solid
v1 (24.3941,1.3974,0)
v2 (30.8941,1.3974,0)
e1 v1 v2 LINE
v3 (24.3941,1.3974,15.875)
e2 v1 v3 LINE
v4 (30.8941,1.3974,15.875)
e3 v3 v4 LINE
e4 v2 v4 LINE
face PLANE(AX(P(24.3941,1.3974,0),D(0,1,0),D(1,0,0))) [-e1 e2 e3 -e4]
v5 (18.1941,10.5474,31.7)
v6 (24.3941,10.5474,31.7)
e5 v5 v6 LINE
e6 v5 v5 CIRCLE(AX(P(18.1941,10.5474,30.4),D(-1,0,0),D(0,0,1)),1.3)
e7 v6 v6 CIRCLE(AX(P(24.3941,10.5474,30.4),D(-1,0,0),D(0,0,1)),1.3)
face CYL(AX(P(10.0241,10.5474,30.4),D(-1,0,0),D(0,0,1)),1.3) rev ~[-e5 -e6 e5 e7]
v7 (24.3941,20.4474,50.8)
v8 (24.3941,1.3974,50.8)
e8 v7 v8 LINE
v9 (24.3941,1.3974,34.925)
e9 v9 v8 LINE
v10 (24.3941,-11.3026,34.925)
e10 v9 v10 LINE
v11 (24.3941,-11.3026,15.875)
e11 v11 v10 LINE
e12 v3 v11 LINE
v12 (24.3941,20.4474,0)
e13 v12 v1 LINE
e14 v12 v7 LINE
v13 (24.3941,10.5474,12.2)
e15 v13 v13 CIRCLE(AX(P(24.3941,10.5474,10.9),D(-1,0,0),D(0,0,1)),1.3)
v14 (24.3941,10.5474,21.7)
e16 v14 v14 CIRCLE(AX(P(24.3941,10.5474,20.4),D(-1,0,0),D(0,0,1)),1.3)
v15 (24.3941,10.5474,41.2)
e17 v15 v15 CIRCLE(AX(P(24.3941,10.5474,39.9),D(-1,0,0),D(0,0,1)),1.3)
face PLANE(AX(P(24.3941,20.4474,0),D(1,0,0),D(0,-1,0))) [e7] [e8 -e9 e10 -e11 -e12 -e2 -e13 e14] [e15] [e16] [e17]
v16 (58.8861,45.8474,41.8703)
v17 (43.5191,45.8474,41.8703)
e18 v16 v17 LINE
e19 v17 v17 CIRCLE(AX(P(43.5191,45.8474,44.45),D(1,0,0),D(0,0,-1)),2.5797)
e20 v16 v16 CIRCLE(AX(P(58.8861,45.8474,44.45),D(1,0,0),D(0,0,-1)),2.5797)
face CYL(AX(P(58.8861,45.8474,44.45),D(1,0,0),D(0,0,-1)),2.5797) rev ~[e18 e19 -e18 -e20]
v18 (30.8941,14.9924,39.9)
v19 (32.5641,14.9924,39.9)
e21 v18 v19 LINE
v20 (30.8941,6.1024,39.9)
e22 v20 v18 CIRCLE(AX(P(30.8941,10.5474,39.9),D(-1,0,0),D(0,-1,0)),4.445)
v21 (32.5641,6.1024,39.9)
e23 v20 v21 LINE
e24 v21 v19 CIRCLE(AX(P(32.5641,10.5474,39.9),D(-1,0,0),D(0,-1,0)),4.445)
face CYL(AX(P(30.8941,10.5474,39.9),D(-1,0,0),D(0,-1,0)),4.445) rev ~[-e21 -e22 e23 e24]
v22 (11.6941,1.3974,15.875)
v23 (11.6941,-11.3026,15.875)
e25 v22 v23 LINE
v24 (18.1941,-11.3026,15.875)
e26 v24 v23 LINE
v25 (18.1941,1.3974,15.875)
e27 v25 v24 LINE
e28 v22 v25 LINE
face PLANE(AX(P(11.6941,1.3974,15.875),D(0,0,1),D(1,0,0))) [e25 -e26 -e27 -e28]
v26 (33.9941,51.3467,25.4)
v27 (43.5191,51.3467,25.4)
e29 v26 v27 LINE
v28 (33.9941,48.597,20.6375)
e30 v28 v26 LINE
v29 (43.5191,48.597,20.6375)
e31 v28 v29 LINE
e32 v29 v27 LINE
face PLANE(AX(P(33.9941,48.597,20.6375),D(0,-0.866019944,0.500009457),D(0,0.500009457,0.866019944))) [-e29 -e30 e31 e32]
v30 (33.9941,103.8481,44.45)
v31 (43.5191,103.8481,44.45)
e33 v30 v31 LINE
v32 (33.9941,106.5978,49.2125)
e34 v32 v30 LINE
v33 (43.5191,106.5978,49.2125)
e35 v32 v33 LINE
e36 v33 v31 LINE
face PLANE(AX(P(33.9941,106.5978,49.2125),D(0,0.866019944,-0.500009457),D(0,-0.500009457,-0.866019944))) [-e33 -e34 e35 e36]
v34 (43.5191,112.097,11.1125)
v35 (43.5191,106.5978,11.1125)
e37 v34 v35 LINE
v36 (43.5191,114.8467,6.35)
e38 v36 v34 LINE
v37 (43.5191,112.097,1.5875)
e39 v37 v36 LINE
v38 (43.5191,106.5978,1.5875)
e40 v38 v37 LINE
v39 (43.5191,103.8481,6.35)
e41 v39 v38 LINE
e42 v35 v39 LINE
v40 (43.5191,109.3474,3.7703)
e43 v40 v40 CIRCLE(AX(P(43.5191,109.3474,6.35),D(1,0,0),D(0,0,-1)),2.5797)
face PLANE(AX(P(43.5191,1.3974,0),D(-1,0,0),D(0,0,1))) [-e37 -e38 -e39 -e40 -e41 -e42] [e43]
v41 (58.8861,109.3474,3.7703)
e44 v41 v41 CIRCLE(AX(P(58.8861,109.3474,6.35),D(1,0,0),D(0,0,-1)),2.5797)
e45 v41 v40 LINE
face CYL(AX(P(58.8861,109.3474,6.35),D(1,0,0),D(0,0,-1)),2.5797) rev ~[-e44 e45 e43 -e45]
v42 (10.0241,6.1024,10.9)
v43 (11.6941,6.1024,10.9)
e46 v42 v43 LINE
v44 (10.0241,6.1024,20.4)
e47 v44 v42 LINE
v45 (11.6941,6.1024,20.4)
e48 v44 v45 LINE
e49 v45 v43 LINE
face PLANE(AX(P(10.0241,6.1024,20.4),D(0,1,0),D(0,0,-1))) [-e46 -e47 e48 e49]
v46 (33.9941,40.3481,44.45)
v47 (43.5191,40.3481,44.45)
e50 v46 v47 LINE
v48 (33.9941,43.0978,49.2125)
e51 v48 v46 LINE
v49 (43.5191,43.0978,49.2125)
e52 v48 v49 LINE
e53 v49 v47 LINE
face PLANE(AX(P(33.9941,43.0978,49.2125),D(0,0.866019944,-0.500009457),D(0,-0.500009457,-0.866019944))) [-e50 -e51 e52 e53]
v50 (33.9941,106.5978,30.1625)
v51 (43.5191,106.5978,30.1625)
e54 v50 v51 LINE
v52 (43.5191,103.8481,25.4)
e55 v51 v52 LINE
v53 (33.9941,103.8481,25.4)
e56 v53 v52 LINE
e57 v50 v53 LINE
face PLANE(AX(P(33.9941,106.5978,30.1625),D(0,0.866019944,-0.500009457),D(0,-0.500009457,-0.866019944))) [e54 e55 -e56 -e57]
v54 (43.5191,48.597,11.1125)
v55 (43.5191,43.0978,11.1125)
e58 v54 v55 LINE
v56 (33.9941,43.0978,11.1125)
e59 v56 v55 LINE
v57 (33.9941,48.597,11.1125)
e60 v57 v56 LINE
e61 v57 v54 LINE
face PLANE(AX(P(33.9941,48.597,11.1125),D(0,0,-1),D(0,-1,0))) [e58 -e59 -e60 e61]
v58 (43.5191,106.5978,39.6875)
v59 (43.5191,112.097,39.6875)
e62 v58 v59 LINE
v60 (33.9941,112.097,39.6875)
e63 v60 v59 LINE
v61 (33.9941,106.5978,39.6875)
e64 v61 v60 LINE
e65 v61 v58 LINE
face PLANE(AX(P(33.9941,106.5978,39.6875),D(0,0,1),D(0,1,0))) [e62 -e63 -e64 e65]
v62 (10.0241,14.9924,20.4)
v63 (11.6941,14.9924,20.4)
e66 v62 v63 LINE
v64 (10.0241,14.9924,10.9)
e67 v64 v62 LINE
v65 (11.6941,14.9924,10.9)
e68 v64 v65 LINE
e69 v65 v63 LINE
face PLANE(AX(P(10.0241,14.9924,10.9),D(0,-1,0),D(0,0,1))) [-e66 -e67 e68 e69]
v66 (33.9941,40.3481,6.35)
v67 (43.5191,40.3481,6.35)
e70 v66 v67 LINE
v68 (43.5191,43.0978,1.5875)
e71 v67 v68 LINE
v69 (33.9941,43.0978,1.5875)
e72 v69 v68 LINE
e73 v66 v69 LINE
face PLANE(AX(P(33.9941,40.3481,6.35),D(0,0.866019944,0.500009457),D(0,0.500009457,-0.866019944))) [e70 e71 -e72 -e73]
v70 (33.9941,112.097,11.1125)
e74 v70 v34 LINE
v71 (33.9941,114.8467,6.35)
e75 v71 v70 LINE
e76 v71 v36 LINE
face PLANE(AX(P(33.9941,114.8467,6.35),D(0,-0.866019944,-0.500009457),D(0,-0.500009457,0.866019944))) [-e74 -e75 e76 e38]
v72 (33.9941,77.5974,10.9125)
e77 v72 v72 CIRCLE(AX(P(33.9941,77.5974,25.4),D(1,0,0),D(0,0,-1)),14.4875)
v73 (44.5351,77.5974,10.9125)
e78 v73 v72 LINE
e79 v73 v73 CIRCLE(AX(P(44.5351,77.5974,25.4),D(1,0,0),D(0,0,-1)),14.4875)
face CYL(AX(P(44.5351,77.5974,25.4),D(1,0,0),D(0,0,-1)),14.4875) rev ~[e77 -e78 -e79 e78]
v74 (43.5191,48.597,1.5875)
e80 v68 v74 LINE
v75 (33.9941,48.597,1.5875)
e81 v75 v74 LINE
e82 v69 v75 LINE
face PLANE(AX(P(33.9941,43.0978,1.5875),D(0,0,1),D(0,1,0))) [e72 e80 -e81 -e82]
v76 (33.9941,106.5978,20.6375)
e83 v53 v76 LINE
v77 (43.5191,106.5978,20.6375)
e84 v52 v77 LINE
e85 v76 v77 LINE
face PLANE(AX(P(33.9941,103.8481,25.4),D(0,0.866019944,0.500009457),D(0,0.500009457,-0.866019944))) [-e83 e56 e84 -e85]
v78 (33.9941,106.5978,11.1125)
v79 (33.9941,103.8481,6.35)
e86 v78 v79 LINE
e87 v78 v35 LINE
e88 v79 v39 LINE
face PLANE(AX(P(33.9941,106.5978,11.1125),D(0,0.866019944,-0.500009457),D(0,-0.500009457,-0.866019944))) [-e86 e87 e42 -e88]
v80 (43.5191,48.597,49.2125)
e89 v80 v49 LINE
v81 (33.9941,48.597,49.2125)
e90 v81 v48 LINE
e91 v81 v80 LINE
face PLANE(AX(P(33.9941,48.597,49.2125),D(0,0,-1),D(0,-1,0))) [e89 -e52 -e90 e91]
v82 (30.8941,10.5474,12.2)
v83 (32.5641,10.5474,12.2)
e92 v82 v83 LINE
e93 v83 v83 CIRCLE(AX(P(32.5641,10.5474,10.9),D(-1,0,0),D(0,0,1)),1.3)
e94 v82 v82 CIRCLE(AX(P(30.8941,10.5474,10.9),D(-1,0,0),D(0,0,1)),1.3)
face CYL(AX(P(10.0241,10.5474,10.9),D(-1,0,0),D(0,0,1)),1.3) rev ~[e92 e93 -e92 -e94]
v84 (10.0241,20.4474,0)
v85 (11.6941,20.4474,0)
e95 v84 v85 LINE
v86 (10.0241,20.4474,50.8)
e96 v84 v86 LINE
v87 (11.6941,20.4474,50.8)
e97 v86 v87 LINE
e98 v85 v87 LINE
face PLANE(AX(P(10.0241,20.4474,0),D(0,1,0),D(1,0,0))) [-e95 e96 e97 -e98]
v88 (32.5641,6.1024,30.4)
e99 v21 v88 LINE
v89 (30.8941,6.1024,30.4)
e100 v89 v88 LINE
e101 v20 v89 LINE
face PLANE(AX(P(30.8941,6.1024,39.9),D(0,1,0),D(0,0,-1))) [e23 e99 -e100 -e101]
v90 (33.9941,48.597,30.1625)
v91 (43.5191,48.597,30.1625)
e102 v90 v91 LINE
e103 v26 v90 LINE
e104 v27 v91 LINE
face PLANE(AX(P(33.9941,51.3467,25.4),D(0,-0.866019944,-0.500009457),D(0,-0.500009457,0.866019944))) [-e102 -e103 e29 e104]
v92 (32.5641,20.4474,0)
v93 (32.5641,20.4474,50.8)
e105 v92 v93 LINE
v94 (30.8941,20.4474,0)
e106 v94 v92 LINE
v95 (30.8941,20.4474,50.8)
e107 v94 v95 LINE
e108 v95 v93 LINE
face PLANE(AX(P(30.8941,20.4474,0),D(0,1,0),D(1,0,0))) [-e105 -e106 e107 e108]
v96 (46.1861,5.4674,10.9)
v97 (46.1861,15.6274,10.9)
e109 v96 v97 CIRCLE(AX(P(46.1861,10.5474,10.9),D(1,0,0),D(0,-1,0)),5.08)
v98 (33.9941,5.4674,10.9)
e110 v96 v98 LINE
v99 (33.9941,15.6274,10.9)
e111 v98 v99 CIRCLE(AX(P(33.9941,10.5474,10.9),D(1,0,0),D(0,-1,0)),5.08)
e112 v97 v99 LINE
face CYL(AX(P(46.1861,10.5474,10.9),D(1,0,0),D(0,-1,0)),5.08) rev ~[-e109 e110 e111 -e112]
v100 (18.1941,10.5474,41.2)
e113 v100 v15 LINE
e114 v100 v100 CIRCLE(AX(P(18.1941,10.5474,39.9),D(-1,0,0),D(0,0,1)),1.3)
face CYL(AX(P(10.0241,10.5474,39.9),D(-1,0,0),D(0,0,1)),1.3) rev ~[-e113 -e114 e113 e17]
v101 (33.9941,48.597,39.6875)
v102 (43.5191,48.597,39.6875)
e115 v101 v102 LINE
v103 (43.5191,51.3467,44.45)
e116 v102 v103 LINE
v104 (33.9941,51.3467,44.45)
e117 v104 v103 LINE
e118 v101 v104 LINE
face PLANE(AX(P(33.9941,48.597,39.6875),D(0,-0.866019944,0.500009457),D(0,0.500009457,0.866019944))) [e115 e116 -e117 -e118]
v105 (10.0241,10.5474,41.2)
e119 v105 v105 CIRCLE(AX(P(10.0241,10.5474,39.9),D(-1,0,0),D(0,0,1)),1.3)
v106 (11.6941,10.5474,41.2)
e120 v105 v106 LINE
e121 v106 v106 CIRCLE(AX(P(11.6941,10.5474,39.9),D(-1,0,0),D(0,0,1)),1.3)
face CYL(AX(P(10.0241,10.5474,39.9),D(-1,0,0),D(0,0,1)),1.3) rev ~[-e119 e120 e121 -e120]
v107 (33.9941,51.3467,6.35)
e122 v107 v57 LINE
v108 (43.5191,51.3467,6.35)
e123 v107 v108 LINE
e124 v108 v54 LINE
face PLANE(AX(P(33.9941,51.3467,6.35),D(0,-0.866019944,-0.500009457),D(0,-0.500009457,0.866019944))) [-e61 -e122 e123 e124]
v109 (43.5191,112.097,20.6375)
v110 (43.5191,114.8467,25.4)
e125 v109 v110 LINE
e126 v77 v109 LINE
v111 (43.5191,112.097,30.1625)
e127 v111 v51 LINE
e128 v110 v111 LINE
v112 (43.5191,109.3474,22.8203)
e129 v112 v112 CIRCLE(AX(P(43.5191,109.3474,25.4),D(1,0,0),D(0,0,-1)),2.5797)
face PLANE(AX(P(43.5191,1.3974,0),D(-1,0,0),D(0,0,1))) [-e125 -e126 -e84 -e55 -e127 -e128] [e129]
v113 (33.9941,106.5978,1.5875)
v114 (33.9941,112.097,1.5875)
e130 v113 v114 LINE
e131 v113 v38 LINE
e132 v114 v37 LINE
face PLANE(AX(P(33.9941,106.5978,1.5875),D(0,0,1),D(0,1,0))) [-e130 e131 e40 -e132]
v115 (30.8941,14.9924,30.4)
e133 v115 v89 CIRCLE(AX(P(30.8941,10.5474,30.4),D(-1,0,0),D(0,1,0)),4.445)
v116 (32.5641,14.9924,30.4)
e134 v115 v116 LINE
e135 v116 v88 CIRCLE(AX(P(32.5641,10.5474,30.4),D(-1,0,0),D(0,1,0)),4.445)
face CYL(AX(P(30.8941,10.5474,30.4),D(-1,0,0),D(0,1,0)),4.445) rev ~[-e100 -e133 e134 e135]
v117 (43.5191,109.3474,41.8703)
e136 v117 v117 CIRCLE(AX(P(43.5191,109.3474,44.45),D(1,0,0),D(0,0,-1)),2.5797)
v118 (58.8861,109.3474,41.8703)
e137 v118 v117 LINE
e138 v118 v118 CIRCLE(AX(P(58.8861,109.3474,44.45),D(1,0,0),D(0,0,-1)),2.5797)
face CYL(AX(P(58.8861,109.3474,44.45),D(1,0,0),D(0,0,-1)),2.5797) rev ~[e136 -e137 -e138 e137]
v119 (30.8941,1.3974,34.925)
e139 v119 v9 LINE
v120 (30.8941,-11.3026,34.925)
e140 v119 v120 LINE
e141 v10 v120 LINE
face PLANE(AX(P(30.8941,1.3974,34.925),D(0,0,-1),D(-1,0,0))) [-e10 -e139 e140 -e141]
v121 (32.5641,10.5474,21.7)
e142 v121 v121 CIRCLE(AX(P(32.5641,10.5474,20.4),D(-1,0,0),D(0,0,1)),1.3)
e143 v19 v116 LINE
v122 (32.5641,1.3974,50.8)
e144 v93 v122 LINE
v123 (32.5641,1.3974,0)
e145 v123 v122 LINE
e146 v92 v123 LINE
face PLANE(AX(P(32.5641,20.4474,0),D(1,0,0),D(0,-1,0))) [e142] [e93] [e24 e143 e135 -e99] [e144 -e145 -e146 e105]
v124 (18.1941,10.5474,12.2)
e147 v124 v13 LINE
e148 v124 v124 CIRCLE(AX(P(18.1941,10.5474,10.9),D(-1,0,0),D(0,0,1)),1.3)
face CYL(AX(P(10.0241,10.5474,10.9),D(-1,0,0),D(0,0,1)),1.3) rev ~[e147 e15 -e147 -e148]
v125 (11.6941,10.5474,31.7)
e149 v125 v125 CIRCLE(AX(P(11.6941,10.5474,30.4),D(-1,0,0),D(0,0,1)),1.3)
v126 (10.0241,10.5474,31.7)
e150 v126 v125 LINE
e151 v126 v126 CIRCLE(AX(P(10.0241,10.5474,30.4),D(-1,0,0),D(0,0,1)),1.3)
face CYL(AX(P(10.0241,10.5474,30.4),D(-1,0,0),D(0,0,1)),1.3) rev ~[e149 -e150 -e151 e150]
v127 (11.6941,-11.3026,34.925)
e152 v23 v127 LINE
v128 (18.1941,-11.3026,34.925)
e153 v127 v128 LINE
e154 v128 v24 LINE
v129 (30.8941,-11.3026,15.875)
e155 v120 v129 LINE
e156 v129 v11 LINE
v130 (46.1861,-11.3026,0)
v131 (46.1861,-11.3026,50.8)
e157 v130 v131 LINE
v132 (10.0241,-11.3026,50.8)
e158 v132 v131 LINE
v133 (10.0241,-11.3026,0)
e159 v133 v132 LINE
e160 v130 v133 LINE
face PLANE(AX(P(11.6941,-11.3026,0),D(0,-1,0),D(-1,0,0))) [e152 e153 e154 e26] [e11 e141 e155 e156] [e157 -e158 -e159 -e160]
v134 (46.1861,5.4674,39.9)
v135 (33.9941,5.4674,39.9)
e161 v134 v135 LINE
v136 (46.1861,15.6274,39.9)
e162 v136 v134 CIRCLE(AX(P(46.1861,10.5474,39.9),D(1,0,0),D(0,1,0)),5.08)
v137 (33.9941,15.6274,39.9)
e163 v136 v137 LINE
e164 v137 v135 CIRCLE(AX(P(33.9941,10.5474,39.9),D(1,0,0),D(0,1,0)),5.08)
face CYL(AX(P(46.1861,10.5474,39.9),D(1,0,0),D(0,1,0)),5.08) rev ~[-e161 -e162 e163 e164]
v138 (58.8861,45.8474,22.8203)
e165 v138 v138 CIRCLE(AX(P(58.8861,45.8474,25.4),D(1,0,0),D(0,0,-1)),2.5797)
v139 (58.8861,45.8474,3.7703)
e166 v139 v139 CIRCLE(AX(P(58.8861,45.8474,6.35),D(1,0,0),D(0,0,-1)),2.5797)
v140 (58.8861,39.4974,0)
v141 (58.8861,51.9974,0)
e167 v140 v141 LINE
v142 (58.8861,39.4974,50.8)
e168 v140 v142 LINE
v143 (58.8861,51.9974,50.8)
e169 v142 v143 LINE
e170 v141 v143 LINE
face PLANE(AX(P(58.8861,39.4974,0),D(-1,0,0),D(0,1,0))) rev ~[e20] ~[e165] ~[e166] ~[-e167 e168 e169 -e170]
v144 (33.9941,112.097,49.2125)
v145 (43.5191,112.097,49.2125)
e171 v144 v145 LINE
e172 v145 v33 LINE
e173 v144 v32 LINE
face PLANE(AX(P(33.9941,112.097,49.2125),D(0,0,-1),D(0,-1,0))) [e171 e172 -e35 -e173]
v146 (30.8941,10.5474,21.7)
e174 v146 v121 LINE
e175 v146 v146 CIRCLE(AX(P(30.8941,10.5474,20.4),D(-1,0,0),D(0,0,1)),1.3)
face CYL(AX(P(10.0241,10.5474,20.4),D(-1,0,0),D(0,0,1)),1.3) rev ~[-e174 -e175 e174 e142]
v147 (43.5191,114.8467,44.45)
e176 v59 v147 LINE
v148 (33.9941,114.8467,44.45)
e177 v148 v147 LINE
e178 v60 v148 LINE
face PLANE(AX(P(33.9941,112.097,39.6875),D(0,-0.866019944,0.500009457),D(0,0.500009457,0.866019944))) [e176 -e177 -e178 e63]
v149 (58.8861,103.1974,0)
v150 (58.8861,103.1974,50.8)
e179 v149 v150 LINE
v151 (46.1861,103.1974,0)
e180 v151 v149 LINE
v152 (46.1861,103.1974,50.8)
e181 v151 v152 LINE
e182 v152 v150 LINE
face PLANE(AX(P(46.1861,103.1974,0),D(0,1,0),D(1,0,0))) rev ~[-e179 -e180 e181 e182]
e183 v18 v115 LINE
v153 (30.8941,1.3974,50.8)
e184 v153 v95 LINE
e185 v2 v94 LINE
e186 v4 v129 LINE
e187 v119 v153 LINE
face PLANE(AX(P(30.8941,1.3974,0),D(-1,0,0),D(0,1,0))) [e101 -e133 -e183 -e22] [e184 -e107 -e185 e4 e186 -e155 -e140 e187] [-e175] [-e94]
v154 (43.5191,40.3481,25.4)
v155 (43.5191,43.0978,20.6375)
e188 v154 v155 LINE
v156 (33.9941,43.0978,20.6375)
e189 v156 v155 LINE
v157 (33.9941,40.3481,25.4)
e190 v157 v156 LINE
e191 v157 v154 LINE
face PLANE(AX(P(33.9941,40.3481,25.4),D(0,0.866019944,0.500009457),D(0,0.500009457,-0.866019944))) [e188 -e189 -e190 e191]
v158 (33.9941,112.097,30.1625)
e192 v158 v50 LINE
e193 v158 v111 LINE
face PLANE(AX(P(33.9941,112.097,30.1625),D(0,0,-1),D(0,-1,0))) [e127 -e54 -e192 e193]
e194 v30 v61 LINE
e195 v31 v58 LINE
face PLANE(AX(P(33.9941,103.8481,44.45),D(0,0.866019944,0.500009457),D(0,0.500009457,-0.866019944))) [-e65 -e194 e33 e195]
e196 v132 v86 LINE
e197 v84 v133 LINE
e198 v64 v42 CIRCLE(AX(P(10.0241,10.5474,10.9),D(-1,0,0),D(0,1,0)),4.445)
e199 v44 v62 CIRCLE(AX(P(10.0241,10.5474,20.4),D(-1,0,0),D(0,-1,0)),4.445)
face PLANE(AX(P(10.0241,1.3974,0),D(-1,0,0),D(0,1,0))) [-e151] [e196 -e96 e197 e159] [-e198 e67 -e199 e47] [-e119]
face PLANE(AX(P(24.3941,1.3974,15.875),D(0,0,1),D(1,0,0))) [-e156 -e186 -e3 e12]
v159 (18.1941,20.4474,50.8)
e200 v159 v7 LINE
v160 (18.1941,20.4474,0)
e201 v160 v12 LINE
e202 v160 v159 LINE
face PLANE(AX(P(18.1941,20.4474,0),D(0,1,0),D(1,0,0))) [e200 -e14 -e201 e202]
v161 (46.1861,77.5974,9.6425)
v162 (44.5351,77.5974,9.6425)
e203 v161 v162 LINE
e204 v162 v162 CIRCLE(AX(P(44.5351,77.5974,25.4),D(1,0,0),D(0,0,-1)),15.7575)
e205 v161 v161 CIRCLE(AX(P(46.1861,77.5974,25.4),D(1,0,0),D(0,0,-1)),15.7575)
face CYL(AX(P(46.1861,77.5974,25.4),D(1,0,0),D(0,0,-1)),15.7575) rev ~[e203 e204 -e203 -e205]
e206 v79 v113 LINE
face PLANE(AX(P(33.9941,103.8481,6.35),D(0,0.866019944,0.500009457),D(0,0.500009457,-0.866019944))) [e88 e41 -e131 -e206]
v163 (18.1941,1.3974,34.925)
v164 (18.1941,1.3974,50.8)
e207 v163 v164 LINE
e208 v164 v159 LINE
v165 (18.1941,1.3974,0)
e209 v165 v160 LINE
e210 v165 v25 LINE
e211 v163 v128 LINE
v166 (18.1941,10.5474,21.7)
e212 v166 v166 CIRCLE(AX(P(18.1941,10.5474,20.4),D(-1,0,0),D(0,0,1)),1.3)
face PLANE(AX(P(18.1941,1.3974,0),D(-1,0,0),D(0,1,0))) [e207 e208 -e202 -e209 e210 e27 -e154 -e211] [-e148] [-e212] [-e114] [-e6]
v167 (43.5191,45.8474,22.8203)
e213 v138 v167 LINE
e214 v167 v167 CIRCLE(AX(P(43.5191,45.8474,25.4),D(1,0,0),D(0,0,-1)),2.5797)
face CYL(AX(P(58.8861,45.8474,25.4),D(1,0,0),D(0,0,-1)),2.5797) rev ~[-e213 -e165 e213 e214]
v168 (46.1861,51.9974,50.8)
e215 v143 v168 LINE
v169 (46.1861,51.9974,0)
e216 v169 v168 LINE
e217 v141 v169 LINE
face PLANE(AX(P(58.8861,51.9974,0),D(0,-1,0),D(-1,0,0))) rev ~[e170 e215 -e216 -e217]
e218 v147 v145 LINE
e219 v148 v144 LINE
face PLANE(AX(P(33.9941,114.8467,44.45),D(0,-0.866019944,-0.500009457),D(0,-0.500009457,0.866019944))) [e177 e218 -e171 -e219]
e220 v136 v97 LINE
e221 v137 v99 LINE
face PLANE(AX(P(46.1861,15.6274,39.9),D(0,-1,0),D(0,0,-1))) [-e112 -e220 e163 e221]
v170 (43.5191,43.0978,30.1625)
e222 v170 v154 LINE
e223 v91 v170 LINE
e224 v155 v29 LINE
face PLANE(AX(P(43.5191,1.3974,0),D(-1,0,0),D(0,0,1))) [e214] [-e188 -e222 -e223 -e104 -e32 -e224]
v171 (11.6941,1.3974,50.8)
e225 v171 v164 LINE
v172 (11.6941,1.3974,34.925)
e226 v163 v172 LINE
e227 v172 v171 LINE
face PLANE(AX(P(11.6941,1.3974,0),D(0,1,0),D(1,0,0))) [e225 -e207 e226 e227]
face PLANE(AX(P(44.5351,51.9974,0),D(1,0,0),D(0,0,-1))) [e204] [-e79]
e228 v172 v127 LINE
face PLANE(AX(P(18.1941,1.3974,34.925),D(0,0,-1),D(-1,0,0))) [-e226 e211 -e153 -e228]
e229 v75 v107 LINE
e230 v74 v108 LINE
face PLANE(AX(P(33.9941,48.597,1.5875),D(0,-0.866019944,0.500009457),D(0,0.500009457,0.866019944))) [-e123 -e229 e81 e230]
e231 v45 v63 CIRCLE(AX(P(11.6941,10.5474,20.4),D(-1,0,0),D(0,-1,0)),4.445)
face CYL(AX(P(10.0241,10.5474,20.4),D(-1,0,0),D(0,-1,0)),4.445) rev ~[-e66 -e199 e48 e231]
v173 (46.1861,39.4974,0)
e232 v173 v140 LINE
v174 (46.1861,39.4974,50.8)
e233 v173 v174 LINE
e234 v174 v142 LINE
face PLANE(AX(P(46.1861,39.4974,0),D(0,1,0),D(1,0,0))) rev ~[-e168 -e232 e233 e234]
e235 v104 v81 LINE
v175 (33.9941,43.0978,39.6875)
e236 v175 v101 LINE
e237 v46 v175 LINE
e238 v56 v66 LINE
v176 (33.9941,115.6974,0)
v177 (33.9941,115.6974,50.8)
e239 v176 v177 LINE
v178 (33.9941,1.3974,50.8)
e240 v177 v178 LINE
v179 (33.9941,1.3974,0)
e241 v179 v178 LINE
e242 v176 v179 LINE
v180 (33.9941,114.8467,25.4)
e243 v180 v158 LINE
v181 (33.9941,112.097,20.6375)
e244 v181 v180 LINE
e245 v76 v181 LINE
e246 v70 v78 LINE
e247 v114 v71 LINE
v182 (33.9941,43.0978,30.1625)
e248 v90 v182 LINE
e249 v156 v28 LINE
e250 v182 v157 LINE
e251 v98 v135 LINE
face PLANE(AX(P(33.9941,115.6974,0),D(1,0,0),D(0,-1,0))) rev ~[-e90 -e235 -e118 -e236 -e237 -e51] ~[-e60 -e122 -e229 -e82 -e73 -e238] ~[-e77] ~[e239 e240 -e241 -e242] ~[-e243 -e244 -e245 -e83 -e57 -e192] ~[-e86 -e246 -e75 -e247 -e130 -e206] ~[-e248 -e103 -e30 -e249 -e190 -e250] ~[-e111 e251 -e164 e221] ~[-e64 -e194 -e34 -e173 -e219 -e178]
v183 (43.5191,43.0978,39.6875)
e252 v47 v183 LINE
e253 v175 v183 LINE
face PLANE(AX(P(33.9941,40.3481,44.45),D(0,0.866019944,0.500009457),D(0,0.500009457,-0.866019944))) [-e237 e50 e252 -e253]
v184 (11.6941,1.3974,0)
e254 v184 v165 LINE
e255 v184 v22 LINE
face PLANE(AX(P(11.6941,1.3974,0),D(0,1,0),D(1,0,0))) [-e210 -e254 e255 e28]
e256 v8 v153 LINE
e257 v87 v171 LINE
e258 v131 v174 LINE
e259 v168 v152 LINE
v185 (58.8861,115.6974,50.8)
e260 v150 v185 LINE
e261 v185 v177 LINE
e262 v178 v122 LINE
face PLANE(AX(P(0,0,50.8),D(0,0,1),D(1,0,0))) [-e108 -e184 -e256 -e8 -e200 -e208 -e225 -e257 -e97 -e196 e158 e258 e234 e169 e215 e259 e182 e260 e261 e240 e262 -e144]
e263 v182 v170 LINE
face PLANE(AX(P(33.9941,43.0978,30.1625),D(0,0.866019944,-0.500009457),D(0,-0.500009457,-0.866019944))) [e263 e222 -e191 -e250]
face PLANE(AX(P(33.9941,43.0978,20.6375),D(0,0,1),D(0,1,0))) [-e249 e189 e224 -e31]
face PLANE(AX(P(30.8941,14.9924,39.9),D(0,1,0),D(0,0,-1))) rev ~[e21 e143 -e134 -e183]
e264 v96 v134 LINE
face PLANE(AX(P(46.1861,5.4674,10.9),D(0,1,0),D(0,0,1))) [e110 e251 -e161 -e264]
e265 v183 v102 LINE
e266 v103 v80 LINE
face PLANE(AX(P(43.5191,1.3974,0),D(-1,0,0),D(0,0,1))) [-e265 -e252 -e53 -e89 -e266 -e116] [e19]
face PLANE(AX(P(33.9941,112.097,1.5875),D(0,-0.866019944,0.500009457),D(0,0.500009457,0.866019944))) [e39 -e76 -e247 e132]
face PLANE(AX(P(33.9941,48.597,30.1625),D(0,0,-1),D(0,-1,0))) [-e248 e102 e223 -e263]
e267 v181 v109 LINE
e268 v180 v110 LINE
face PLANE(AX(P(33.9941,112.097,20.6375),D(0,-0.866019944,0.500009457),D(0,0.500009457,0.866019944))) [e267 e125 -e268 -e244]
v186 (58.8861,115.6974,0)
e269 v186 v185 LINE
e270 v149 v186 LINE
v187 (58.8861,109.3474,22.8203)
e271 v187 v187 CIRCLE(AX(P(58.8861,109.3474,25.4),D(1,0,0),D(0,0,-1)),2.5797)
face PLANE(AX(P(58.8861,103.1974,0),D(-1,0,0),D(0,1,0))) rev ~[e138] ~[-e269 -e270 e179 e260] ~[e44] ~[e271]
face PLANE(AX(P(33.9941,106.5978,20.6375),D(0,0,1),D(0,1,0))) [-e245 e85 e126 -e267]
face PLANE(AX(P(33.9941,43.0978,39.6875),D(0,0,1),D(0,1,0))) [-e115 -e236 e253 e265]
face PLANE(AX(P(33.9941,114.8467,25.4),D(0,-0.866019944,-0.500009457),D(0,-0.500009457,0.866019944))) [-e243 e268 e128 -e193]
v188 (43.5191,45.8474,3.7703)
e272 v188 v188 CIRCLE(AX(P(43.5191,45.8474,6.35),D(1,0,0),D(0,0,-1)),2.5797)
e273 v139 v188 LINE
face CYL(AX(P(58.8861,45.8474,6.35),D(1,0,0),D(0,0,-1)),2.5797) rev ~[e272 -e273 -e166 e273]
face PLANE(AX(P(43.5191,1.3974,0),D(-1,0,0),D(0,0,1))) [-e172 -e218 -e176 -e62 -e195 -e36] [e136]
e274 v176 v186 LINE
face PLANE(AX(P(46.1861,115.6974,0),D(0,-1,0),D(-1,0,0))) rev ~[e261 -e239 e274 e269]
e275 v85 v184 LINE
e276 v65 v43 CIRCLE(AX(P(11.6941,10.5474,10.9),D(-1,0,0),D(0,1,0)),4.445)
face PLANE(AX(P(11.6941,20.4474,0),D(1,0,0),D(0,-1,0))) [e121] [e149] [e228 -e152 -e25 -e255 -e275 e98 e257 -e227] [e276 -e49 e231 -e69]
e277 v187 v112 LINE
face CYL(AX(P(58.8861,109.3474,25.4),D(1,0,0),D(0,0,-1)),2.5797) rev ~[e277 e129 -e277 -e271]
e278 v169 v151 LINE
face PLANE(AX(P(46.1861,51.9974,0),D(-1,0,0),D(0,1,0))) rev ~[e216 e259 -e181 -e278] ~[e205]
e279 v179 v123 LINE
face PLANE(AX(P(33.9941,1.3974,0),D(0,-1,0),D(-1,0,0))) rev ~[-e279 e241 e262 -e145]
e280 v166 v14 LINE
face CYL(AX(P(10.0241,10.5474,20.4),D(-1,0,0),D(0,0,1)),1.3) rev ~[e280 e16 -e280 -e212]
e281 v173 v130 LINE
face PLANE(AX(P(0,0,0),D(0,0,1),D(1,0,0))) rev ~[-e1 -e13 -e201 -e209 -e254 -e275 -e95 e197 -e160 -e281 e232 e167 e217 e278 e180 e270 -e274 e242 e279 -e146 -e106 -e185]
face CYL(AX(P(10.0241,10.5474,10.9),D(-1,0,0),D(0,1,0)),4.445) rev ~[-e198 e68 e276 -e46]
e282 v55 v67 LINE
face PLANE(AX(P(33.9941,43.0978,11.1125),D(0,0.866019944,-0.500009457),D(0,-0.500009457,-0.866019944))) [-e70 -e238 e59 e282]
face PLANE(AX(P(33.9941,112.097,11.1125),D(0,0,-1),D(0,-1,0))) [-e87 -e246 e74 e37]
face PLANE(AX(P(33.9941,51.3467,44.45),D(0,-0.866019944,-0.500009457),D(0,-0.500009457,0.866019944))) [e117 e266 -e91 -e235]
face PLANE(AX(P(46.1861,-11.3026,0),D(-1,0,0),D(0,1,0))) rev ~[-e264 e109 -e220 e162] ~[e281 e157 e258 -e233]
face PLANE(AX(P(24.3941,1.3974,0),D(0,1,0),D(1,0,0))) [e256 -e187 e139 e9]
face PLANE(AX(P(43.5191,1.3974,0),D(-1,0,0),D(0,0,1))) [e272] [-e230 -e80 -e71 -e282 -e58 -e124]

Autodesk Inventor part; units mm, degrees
ref_plane "YZ Plane" through (0, 0, 0) normal (1, 0, 0) x (0, 1, 0)
ref_plane "XZ Plane" through (0, 0, 0) normal (0, 1, 0) x (-1, 0, 0)
ref_plane "XY Plane" through (0, 0, 0) normal (0, 0, 1) x (1, 0, 0)
sketch "Sketch1" plane through (0, 0, 0) normal (0, 0, 1) x (1, 0, 0)
  line L0 (10.0241, 20.4474) -> (11.6941, 20.4474)
  line L1 (11.6941, 20.4474) -> (11.6941, -11.3026)
  line L2 (11.6941, -11.3026) -> (10.0241, -11.3026)
  line L3 (10.0241, -11.3026) -> (10.0241, 20.4474)
  line L4 (11.6941, -4.9526) -> (18.1941, -4.9526)
  line L5 (18.1941, -4.9526) -> (18.1941, -11.3026)
  line L6 (18.1941, -11.3026) -> (11.6941, -11.3026)
  line L7 (11.6941, -11.3026) -> (11.6941, -4.9526)
  line L8 (18.1941, 20.4474) -> (24.3941, 20.4474)
  line L9 (24.3941, 20.4474) -> (24.3941, -11.3026)
  line L10 (24.3941, -11.3026) -> (18.1941, -11.3026)
  line L11 (18.1941, -11.3026) -> (18.1941, 20.4474)
  line L12 (24.3941, -4.9526) -> (30.8941, -4.9526)
  line L13 (30.8941, -4.9526) -> (30.8941, -11.3026)
  line L14 (30.8941, -11.3026) -> (24.3941, -11.3026)
  line L15 (24.3941, -11.3026) -> (24.3941, -4.9526)
  line L16 (30.8941, 20.4474) -> (32.5641, 20.4474)
  line L17 (32.5641, 20.4474) -> (32.5641, -11.3026)
  line L18 (32.5641, -11.3026) -> (30.8941, -11.3026)
  line L19 (30.8941, -11.3026) -> (30.8941, 20.4474)
  line L20 (14.9441, -4.9526) -> (14.9441, -6.8027)
  line L21 (27.6441, -4.9526) -> (27.6441, -11.0357)
  line L22 (10.0241, 1.3974) -> (32.5641, 1.3974)
  line L23 (32.5641, 1.3974) -> (32.5641, -11.3026)
  line L24 (32.5641, -11.3026) -> (10.0241, -11.3026)
  line L25 (10.0241, -11.3026) -> (10.0241, 1.3974)
  line L26 (32.5641, -11.3026) -> (46.1861, -11.3026)
  line L27 (46.1861, -11.3026) -> (46.1861, 1.3974)
  line L28 (46.1861, 1.3974) -> (32.5641, 1.3974)
  line L29 (32.5641, 1.3974) -> (32.5641, -11.3026)
  line L30 (33.9941, 1.3974) -> (46.1861, 1.3974)
  line L31 (46.1861, 1.3974) -> (46.1861, 115.6974)
  line L32 (46.1861, 115.6974) -> (33.9941, 115.6974)
  line L33 (33.9941, 115.6974) -> (33.9941, 1.3974)
  line L34 (46.1861, 39.4974) -> (58.8861, 39.4974)
  line L35 (58.8861, 39.4974) -> (58.8861, 51.9974)
  line L36 (58.8861, 51.9974) -> (46.1861, 51.9974)
  line L37 (46.1861, 51.9974) -> (46.1861, 39.4974)
  line L38 (46.1861, 103.1974) -> (58.8861, 103.1974)
  line L39 (58.8861, 103.1974) -> (58.8861, 115.6974)
  line L40 (58.8861, 115.6974) -> (46.1861, 115.6974)
  line L41 (46.1861, 115.6974) -> (46.1861, 103.1974)
  line L42 (-51.3447, 77.5974) -> (150.8271, 77.5974) construction
  point P0 (0, 0)
  dimension "d0" = 6.5
  dimension "d1" = 6.5
  dimension "d4" = 12.7
  dimension "d5" = 1.67
  dimension "d6" = 25.4
  dimension "d51" = 12.5
  dimension "d52" = 12.5
  dimension "d53" = 51.2
  dimension "d54" = 57.15
  dimension "d55" = 25.6
  dimension "d57" = 12.7
  dimension "d58" = 12.192
  dimension "d59" = 18.542
  dimension "d60" = 12.7
  dimension "d86" = 76.2
  dimension "d114" = 76.2
extrude "Extrusion1" add sketch "Sketch1" along normal blind 50.8
sketch "Sketch9" plane through (46.1861, 51.9974, 0) normal (1, 0, 0) x (0, 0, -1)
  circle A0 centre (-25.4, 25.6) radius 15.7575
  line L0 (0, 0) -> (0, 51.2) projected
  line L1 (0, 51.2) -> (-50.8, 51.2) projected
  point P0 (0, -51.9974)
  dimension "d61" = 31.515
  dimension "d62" = 25.4
  dimension "d63" = 25.6
extrude "Extrusion8" cut sketch "Sketch9" against normal blind 1.651
sketch "Sketch10" plane through (44.5351, 77.5974, 25.4) normal (1, 0, 0) x (0, 0, -1)
  circle A0 centre (0, 0) radius 15.7575 projected
  circle A1 centre (0, 0) radius 14.4875
  point P0 (25.4, -77.5974)
  dimension "d66" = 28.975
extrude "Extrusion9" cut sketch "Sketch10" against normal through all contours A1
sketch "Sketch11" plane through (10.0241, -11.3026, 0) normal (-1, 0, 0) x (0, 0, 1)
  circle A0 centre (25.4, 36.35) radius 2.25
  line L0 (0, 127) -> (0, 12.7) projected
  circle A1 centre (10.9, 21.85) radius 1.3
  circle A2 centre (20.4, 21.85) radius 1.3
  circle A3 centre (30.4, 21.85) radius 1.3
  circle A4 centre (39.9, 21.85) radius 1.3
  circle A5 centre (25.4, 88.9) radius 14.4875 projected
  line L1 (36.7449, 38.6) -> (7.7398, 38.6) construction
  point P0 (0, 11.3026)
  dimension "d69" = 4.5
  dimension "d70" = 25.4
  dimension "d71" = 9.5
  dimension "d72" = 9.5
  dimension "d73" = 2.6
  dimension "d74" = 14.5
  dimension "d75" = 50.3
  dimension "d76" = 14.5
  dimension "d77" = 14.5
extrude "Extrusion10" cut sketch "Sketch11" against normal through all contours A1 | A2 | A3 | A4
sketch "Sketch14" plane through (30.8941, 1.3974, 0) normal (-1, 0, 0) x (0, 0, 1)
  circle A0 centre (39.9, 9.15) radius 1.3 projected
  arc A1 (39.9, 4.705) -> (39.9, 13.595) centre (39.9, 9.15) ccw
  circle A2 centre (30.4, 9.15) radius 1.3 projected
  arc A3 (30.4, 13.595) -> (30.4, 4.705) centre (30.4, 9.15) ccw
  line L0 (39.9, 4.705) -> (30.4, 4.705)
  line L1 (39.9, 13.595) -> (30.4, 13.595)
  arc A4 (39.9, 13.595) -> (39.9, 4.705) centre (39.9, 9.15) ccw
  arc A5 (30.4, 4.705) -> (30.4, 13.595) centre (30.4, 9.15) ccw
  point P0 (0, -1.3974)
  dimension "d87" = 8.89
extrude "Extrusion13" cut sketch "Sketch14" against normal up to surface (1.67 mm away)
sketch "Sketch15" plane through (10.0241, -11.3026, 0) normal (-1, 0, 0) x (0, 0, 1)
  circle A0 centre (20.4, 21.85) radius 1.3 projected
  arc A1 (20.4, 17.405) -> (20.4, 26.295) centre (20.4, 21.85) ccw
  circle A2 centre (10.9, 21.85) radius 1.3 projected
  arc A3 (10.9, 26.295) -> (10.9, 17.405) centre (10.9, 21.85) ccw
  line L0 (20.4, 17.405) -> (10.9, 17.405)
  line L1 (10.9, 26.295) -> (20.4, 26.295)
  arc A4 (20.4, 26.295) -> (20.4, 17.405) centre (20.4, 21.85) ccw
  arc A5 (10.9, 17.405) -> (10.9, 26.295) centre (10.9, 21.85) ccw
  point P0 (0, 11.3026)
  dimension "d90" = 8.89
extrude "Extrusion14" cut sketch "Sketch15" against normal up to surface (1.67 mm away)
sketch "Sketch16" plane through (46.1861, -11.3026, 0) normal (1, 0, 0) x (0, 0, -1)
  circle A0 centre (-10.9, 21.85) radius 1.3 projected
  arc A1 (-10.9, 16.77) -> (-10.9, 26.93) centre (-10.9, 21.85) ccw
  circle A2 centre (-39.9, 21.85) radius 1.3 projected
  arc A3 (-39.9, 26.93) -> (-39.9, 16.77) centre (-39.9, 21.85) ccw
  line L0 (-10.9, 16.77) -> (-39.9, 16.77)
  line L1 (-39.9, 26.93) -> (-10.9, 26.93)
  arc A4 (-10.9, 26.93) -> (-10.9, 16.77) centre (-10.9, 21.85) ccw
  arc A5 (-39.9, 16.77) -> (-39.9, 26.93) centre (-39.9, 21.85) ccw
  point P0 (0, 11.3026)
  dimension "d93" = 10.16
extrude "Extrusion15" cut sketch "Sketch16" against normal up to surface (12.192 mm away)
sketch "Sketch17" plane through (24.3941, 1.3974, 0) normal (0, 1, 0) x (1, 0, 0)
  line L0 (6.5, -34.925) -> (0, -34.925)
  line L1 (0, -34.925) -> (0, -15.875)
  line L2 (0, -15.875) -> (6.5, -15.875)
  line L3 (6.5, -15.875) -> (6.5, -34.925)
  line L4 (-6.2, -34.925) -> (-12.7, -34.925)
  line L5 (-12.7, -34.925) -> (-12.7, -15.875)
  line L6 (-12.7, -15.875) -> (-6.2, -15.875)
  line L7 (-6.2, -15.875) -> (-6.2, -34.925)
  line L8 (6.5, -25.4) -> (0, -25.4) construction
  line L9 (0, 0) -> (6.5, 0) projected
  line L10 (6.5, 0) -> (6.5, -50.8) projected
  line L11 (0, 0) -> (0, -50.8) projected
  line L12 (-6.2, 0) -> (-6.2, -50.8) projected
  line L13 (-12.7, 0) -> (-12.7, -50.8) projected
  point P0 (-24.3941, 0)
  dimension "d96" = 19.05
  dimension "d97" = 25.4
extrude "Extrusion16" cut sketch "Sketch17" against normal through all contours L0 L1 L2 L3 | L4 L5 L6 L7
sketch "Sketch19" plane through (58.8861, 39.4974, 0) normal (1, 0, 0) x (0, 0, -1)
  circle A0 centre (-6.35, 6.35) radius 2.5797
  line L0 (0, 12.5) -> (0, 63.7) projected
  line L1 (0, 0) -> (-50.8, 0) projected
  circle A1 centre (-6.35, 69.85) radius 2.5797
  circle A2 centre (-25.4, 6.35) radius 2.5797
  circle A3 centre (-25.4, 69.85) radius 2.5797
  circle A4 centre (-44.45, 6.35) radius 2.5797
  circle A5 centre (-44.45, 69.85) radius 2.5797
  circle A6 centre (-25.4, 38.1) radius 14.4875 projected
  point P0 (0, -39.4974)
  dimension "d102" = 63.5
  dimension "d105" = 19.05
  dimension "d108" = 25.4
  dimension "d109" = 5.1594
  dimension "d110" = 31.75
extrude "Extrusion17" cut sketch "Sketch19" against normal through all contours A0 | A1 | A2 | A3 | A4 | A5
sketch "Sketch20" plane through (33.9941, 1.3974, 0) normal (-1, 0, 0) x (0, 0, 1)
  circle A0 centre (44.45, 107.95) radius 2.5797 projected
  line L0 (49.2125, 105.2004) -> (44.45, 102.4507)
  line L1 (44.45, 102.4507) -> (39.6875, 105.2004)
  line L2 (39.6875, 105.2004) -> (39.6875, 110.6996)
  line L3 (39.6875, 110.6996) -> (44.45, 113.4493)
  line L4 (44.45, 113.4493) -> (49.2125, 110.6996)
  line L5 (49.2125, 110.6996) -> (49.2125, 105.2004)
  line L6 (0, 114.3) -> (50.8, 114.3) projected
  line L7 (50.8, 114.3) -> (50.8, 0) projected
  line L8 (30.1625, 105.2004) -> (25.4, 102.4507)
  line L9 (25.4, 102.4507) -> (20.6375, 105.2004)
  line L10 (20.6375, 105.2004) -> (20.6375, 110.6996)
  line L11 (20.6375, 110.6996) -> (25.4, 113.4493)
  line L12 (25.4, 113.4493) -> (30.1625, 110.6996)
  line L13 (30.1625, 110.6996) -> (30.1625, 105.2004)
  line L14 (11.1125, 105.2004) -> (6.35, 102.4507)
  line L15 (6.35, 102.4507) -> (1.5875, 105.2004)
  line L16 (1.5875, 105.2004) -> (1.5875, 110.6996)
  line L17 (1.5875, 110.6996) -> (6.35, 113.4493)
  line L18 (6.35, 113.4493) -> (11.1125, 110.6996)
  line L19 (11.1125, 110.6996) -> (11.1125, 105.2004)
  line L20 (49.2125, 41.7004) -> (44.45, 38.9507)
  line L21 (44.45, 38.9507) -> (39.6875, 41.7004)
  line L22 (39.6875, 41.7004) -> (39.6875, 47.1996)
  line L23 (39.6875, 47.1996) -> (44.45, 49.9493)
  line L24 (44.45, 49.9493) -> (49.2125, 47.1996)
  line L25 (49.2125, 47.1996) -> (49.2125, 41.7004)
  line L26 (30.1625, 41.7004) -> (25.4, 38.9507)
  line L27 (25.4, 38.9507) -> (20.6375, 41.7004)
  line L28 (20.6375, 41.7004) -> (20.6375, 47.1996)
  line L29 (20.6375, 47.1996) -> (25.4, 49.9493)
  line L30 (25.4, 49.9493) -> (30.1625, 47.1996)
  line L31 (30.1625, 47.1996) -> (30.1625, 41.7004)
  line L32 (11.1125, 41.7004) -> (6.35, 38.9507)
  line L33 (6.35, 38.9507) -> (1.5875, 41.7004)
  line L34 (1.5875, 41.7004) -> (1.5875, 47.1996)
  line L35 (1.5875, 47.1996) -> (6.35, 49.9493)
  line L36 (6.35, 49.9493) -> (11.1125, 47.1996)
  line L37 (11.1125, 47.1996) -> (11.1125, 41.7004)
  point P0 (0, -1.3974)
  point P1 (25.4, 107.95)
  point P2 (6.35, 107.95)
  point P3 (44.45, 44.45)
  point P4 (25.4, 44.45)
  point P5 (6.35, 44.45)
  dimension "d113" = 9.525
  dimension "d117" = 19.05
  dimension "d120" = 63.5
extrude "Extrusion18" cut sketch "Sketch20" against normal blind 9.525 contours A0 | L0 L1 L2 L3 L4 L5 | L8 L9 L10 L11 L12 L13 | L14 L15 L16 L17 L18 L19 | L20 L21 L22 L23 L24 L25 | L26 L27 L28 L29 L30 L31 | L32 L33 L34 L35 L36 L37
equation "\"d0\" = d1"
equation "\"d52\" = d51"
equation "\"d55\" = 0.5 * d53"
equation "\"d63\" = d55"
equation "\"d72\" = d71"
equation "\"d77\" = d76"
equation "\"d91\" = d90"
properties part number "RotateLimitSwitchHolder"
